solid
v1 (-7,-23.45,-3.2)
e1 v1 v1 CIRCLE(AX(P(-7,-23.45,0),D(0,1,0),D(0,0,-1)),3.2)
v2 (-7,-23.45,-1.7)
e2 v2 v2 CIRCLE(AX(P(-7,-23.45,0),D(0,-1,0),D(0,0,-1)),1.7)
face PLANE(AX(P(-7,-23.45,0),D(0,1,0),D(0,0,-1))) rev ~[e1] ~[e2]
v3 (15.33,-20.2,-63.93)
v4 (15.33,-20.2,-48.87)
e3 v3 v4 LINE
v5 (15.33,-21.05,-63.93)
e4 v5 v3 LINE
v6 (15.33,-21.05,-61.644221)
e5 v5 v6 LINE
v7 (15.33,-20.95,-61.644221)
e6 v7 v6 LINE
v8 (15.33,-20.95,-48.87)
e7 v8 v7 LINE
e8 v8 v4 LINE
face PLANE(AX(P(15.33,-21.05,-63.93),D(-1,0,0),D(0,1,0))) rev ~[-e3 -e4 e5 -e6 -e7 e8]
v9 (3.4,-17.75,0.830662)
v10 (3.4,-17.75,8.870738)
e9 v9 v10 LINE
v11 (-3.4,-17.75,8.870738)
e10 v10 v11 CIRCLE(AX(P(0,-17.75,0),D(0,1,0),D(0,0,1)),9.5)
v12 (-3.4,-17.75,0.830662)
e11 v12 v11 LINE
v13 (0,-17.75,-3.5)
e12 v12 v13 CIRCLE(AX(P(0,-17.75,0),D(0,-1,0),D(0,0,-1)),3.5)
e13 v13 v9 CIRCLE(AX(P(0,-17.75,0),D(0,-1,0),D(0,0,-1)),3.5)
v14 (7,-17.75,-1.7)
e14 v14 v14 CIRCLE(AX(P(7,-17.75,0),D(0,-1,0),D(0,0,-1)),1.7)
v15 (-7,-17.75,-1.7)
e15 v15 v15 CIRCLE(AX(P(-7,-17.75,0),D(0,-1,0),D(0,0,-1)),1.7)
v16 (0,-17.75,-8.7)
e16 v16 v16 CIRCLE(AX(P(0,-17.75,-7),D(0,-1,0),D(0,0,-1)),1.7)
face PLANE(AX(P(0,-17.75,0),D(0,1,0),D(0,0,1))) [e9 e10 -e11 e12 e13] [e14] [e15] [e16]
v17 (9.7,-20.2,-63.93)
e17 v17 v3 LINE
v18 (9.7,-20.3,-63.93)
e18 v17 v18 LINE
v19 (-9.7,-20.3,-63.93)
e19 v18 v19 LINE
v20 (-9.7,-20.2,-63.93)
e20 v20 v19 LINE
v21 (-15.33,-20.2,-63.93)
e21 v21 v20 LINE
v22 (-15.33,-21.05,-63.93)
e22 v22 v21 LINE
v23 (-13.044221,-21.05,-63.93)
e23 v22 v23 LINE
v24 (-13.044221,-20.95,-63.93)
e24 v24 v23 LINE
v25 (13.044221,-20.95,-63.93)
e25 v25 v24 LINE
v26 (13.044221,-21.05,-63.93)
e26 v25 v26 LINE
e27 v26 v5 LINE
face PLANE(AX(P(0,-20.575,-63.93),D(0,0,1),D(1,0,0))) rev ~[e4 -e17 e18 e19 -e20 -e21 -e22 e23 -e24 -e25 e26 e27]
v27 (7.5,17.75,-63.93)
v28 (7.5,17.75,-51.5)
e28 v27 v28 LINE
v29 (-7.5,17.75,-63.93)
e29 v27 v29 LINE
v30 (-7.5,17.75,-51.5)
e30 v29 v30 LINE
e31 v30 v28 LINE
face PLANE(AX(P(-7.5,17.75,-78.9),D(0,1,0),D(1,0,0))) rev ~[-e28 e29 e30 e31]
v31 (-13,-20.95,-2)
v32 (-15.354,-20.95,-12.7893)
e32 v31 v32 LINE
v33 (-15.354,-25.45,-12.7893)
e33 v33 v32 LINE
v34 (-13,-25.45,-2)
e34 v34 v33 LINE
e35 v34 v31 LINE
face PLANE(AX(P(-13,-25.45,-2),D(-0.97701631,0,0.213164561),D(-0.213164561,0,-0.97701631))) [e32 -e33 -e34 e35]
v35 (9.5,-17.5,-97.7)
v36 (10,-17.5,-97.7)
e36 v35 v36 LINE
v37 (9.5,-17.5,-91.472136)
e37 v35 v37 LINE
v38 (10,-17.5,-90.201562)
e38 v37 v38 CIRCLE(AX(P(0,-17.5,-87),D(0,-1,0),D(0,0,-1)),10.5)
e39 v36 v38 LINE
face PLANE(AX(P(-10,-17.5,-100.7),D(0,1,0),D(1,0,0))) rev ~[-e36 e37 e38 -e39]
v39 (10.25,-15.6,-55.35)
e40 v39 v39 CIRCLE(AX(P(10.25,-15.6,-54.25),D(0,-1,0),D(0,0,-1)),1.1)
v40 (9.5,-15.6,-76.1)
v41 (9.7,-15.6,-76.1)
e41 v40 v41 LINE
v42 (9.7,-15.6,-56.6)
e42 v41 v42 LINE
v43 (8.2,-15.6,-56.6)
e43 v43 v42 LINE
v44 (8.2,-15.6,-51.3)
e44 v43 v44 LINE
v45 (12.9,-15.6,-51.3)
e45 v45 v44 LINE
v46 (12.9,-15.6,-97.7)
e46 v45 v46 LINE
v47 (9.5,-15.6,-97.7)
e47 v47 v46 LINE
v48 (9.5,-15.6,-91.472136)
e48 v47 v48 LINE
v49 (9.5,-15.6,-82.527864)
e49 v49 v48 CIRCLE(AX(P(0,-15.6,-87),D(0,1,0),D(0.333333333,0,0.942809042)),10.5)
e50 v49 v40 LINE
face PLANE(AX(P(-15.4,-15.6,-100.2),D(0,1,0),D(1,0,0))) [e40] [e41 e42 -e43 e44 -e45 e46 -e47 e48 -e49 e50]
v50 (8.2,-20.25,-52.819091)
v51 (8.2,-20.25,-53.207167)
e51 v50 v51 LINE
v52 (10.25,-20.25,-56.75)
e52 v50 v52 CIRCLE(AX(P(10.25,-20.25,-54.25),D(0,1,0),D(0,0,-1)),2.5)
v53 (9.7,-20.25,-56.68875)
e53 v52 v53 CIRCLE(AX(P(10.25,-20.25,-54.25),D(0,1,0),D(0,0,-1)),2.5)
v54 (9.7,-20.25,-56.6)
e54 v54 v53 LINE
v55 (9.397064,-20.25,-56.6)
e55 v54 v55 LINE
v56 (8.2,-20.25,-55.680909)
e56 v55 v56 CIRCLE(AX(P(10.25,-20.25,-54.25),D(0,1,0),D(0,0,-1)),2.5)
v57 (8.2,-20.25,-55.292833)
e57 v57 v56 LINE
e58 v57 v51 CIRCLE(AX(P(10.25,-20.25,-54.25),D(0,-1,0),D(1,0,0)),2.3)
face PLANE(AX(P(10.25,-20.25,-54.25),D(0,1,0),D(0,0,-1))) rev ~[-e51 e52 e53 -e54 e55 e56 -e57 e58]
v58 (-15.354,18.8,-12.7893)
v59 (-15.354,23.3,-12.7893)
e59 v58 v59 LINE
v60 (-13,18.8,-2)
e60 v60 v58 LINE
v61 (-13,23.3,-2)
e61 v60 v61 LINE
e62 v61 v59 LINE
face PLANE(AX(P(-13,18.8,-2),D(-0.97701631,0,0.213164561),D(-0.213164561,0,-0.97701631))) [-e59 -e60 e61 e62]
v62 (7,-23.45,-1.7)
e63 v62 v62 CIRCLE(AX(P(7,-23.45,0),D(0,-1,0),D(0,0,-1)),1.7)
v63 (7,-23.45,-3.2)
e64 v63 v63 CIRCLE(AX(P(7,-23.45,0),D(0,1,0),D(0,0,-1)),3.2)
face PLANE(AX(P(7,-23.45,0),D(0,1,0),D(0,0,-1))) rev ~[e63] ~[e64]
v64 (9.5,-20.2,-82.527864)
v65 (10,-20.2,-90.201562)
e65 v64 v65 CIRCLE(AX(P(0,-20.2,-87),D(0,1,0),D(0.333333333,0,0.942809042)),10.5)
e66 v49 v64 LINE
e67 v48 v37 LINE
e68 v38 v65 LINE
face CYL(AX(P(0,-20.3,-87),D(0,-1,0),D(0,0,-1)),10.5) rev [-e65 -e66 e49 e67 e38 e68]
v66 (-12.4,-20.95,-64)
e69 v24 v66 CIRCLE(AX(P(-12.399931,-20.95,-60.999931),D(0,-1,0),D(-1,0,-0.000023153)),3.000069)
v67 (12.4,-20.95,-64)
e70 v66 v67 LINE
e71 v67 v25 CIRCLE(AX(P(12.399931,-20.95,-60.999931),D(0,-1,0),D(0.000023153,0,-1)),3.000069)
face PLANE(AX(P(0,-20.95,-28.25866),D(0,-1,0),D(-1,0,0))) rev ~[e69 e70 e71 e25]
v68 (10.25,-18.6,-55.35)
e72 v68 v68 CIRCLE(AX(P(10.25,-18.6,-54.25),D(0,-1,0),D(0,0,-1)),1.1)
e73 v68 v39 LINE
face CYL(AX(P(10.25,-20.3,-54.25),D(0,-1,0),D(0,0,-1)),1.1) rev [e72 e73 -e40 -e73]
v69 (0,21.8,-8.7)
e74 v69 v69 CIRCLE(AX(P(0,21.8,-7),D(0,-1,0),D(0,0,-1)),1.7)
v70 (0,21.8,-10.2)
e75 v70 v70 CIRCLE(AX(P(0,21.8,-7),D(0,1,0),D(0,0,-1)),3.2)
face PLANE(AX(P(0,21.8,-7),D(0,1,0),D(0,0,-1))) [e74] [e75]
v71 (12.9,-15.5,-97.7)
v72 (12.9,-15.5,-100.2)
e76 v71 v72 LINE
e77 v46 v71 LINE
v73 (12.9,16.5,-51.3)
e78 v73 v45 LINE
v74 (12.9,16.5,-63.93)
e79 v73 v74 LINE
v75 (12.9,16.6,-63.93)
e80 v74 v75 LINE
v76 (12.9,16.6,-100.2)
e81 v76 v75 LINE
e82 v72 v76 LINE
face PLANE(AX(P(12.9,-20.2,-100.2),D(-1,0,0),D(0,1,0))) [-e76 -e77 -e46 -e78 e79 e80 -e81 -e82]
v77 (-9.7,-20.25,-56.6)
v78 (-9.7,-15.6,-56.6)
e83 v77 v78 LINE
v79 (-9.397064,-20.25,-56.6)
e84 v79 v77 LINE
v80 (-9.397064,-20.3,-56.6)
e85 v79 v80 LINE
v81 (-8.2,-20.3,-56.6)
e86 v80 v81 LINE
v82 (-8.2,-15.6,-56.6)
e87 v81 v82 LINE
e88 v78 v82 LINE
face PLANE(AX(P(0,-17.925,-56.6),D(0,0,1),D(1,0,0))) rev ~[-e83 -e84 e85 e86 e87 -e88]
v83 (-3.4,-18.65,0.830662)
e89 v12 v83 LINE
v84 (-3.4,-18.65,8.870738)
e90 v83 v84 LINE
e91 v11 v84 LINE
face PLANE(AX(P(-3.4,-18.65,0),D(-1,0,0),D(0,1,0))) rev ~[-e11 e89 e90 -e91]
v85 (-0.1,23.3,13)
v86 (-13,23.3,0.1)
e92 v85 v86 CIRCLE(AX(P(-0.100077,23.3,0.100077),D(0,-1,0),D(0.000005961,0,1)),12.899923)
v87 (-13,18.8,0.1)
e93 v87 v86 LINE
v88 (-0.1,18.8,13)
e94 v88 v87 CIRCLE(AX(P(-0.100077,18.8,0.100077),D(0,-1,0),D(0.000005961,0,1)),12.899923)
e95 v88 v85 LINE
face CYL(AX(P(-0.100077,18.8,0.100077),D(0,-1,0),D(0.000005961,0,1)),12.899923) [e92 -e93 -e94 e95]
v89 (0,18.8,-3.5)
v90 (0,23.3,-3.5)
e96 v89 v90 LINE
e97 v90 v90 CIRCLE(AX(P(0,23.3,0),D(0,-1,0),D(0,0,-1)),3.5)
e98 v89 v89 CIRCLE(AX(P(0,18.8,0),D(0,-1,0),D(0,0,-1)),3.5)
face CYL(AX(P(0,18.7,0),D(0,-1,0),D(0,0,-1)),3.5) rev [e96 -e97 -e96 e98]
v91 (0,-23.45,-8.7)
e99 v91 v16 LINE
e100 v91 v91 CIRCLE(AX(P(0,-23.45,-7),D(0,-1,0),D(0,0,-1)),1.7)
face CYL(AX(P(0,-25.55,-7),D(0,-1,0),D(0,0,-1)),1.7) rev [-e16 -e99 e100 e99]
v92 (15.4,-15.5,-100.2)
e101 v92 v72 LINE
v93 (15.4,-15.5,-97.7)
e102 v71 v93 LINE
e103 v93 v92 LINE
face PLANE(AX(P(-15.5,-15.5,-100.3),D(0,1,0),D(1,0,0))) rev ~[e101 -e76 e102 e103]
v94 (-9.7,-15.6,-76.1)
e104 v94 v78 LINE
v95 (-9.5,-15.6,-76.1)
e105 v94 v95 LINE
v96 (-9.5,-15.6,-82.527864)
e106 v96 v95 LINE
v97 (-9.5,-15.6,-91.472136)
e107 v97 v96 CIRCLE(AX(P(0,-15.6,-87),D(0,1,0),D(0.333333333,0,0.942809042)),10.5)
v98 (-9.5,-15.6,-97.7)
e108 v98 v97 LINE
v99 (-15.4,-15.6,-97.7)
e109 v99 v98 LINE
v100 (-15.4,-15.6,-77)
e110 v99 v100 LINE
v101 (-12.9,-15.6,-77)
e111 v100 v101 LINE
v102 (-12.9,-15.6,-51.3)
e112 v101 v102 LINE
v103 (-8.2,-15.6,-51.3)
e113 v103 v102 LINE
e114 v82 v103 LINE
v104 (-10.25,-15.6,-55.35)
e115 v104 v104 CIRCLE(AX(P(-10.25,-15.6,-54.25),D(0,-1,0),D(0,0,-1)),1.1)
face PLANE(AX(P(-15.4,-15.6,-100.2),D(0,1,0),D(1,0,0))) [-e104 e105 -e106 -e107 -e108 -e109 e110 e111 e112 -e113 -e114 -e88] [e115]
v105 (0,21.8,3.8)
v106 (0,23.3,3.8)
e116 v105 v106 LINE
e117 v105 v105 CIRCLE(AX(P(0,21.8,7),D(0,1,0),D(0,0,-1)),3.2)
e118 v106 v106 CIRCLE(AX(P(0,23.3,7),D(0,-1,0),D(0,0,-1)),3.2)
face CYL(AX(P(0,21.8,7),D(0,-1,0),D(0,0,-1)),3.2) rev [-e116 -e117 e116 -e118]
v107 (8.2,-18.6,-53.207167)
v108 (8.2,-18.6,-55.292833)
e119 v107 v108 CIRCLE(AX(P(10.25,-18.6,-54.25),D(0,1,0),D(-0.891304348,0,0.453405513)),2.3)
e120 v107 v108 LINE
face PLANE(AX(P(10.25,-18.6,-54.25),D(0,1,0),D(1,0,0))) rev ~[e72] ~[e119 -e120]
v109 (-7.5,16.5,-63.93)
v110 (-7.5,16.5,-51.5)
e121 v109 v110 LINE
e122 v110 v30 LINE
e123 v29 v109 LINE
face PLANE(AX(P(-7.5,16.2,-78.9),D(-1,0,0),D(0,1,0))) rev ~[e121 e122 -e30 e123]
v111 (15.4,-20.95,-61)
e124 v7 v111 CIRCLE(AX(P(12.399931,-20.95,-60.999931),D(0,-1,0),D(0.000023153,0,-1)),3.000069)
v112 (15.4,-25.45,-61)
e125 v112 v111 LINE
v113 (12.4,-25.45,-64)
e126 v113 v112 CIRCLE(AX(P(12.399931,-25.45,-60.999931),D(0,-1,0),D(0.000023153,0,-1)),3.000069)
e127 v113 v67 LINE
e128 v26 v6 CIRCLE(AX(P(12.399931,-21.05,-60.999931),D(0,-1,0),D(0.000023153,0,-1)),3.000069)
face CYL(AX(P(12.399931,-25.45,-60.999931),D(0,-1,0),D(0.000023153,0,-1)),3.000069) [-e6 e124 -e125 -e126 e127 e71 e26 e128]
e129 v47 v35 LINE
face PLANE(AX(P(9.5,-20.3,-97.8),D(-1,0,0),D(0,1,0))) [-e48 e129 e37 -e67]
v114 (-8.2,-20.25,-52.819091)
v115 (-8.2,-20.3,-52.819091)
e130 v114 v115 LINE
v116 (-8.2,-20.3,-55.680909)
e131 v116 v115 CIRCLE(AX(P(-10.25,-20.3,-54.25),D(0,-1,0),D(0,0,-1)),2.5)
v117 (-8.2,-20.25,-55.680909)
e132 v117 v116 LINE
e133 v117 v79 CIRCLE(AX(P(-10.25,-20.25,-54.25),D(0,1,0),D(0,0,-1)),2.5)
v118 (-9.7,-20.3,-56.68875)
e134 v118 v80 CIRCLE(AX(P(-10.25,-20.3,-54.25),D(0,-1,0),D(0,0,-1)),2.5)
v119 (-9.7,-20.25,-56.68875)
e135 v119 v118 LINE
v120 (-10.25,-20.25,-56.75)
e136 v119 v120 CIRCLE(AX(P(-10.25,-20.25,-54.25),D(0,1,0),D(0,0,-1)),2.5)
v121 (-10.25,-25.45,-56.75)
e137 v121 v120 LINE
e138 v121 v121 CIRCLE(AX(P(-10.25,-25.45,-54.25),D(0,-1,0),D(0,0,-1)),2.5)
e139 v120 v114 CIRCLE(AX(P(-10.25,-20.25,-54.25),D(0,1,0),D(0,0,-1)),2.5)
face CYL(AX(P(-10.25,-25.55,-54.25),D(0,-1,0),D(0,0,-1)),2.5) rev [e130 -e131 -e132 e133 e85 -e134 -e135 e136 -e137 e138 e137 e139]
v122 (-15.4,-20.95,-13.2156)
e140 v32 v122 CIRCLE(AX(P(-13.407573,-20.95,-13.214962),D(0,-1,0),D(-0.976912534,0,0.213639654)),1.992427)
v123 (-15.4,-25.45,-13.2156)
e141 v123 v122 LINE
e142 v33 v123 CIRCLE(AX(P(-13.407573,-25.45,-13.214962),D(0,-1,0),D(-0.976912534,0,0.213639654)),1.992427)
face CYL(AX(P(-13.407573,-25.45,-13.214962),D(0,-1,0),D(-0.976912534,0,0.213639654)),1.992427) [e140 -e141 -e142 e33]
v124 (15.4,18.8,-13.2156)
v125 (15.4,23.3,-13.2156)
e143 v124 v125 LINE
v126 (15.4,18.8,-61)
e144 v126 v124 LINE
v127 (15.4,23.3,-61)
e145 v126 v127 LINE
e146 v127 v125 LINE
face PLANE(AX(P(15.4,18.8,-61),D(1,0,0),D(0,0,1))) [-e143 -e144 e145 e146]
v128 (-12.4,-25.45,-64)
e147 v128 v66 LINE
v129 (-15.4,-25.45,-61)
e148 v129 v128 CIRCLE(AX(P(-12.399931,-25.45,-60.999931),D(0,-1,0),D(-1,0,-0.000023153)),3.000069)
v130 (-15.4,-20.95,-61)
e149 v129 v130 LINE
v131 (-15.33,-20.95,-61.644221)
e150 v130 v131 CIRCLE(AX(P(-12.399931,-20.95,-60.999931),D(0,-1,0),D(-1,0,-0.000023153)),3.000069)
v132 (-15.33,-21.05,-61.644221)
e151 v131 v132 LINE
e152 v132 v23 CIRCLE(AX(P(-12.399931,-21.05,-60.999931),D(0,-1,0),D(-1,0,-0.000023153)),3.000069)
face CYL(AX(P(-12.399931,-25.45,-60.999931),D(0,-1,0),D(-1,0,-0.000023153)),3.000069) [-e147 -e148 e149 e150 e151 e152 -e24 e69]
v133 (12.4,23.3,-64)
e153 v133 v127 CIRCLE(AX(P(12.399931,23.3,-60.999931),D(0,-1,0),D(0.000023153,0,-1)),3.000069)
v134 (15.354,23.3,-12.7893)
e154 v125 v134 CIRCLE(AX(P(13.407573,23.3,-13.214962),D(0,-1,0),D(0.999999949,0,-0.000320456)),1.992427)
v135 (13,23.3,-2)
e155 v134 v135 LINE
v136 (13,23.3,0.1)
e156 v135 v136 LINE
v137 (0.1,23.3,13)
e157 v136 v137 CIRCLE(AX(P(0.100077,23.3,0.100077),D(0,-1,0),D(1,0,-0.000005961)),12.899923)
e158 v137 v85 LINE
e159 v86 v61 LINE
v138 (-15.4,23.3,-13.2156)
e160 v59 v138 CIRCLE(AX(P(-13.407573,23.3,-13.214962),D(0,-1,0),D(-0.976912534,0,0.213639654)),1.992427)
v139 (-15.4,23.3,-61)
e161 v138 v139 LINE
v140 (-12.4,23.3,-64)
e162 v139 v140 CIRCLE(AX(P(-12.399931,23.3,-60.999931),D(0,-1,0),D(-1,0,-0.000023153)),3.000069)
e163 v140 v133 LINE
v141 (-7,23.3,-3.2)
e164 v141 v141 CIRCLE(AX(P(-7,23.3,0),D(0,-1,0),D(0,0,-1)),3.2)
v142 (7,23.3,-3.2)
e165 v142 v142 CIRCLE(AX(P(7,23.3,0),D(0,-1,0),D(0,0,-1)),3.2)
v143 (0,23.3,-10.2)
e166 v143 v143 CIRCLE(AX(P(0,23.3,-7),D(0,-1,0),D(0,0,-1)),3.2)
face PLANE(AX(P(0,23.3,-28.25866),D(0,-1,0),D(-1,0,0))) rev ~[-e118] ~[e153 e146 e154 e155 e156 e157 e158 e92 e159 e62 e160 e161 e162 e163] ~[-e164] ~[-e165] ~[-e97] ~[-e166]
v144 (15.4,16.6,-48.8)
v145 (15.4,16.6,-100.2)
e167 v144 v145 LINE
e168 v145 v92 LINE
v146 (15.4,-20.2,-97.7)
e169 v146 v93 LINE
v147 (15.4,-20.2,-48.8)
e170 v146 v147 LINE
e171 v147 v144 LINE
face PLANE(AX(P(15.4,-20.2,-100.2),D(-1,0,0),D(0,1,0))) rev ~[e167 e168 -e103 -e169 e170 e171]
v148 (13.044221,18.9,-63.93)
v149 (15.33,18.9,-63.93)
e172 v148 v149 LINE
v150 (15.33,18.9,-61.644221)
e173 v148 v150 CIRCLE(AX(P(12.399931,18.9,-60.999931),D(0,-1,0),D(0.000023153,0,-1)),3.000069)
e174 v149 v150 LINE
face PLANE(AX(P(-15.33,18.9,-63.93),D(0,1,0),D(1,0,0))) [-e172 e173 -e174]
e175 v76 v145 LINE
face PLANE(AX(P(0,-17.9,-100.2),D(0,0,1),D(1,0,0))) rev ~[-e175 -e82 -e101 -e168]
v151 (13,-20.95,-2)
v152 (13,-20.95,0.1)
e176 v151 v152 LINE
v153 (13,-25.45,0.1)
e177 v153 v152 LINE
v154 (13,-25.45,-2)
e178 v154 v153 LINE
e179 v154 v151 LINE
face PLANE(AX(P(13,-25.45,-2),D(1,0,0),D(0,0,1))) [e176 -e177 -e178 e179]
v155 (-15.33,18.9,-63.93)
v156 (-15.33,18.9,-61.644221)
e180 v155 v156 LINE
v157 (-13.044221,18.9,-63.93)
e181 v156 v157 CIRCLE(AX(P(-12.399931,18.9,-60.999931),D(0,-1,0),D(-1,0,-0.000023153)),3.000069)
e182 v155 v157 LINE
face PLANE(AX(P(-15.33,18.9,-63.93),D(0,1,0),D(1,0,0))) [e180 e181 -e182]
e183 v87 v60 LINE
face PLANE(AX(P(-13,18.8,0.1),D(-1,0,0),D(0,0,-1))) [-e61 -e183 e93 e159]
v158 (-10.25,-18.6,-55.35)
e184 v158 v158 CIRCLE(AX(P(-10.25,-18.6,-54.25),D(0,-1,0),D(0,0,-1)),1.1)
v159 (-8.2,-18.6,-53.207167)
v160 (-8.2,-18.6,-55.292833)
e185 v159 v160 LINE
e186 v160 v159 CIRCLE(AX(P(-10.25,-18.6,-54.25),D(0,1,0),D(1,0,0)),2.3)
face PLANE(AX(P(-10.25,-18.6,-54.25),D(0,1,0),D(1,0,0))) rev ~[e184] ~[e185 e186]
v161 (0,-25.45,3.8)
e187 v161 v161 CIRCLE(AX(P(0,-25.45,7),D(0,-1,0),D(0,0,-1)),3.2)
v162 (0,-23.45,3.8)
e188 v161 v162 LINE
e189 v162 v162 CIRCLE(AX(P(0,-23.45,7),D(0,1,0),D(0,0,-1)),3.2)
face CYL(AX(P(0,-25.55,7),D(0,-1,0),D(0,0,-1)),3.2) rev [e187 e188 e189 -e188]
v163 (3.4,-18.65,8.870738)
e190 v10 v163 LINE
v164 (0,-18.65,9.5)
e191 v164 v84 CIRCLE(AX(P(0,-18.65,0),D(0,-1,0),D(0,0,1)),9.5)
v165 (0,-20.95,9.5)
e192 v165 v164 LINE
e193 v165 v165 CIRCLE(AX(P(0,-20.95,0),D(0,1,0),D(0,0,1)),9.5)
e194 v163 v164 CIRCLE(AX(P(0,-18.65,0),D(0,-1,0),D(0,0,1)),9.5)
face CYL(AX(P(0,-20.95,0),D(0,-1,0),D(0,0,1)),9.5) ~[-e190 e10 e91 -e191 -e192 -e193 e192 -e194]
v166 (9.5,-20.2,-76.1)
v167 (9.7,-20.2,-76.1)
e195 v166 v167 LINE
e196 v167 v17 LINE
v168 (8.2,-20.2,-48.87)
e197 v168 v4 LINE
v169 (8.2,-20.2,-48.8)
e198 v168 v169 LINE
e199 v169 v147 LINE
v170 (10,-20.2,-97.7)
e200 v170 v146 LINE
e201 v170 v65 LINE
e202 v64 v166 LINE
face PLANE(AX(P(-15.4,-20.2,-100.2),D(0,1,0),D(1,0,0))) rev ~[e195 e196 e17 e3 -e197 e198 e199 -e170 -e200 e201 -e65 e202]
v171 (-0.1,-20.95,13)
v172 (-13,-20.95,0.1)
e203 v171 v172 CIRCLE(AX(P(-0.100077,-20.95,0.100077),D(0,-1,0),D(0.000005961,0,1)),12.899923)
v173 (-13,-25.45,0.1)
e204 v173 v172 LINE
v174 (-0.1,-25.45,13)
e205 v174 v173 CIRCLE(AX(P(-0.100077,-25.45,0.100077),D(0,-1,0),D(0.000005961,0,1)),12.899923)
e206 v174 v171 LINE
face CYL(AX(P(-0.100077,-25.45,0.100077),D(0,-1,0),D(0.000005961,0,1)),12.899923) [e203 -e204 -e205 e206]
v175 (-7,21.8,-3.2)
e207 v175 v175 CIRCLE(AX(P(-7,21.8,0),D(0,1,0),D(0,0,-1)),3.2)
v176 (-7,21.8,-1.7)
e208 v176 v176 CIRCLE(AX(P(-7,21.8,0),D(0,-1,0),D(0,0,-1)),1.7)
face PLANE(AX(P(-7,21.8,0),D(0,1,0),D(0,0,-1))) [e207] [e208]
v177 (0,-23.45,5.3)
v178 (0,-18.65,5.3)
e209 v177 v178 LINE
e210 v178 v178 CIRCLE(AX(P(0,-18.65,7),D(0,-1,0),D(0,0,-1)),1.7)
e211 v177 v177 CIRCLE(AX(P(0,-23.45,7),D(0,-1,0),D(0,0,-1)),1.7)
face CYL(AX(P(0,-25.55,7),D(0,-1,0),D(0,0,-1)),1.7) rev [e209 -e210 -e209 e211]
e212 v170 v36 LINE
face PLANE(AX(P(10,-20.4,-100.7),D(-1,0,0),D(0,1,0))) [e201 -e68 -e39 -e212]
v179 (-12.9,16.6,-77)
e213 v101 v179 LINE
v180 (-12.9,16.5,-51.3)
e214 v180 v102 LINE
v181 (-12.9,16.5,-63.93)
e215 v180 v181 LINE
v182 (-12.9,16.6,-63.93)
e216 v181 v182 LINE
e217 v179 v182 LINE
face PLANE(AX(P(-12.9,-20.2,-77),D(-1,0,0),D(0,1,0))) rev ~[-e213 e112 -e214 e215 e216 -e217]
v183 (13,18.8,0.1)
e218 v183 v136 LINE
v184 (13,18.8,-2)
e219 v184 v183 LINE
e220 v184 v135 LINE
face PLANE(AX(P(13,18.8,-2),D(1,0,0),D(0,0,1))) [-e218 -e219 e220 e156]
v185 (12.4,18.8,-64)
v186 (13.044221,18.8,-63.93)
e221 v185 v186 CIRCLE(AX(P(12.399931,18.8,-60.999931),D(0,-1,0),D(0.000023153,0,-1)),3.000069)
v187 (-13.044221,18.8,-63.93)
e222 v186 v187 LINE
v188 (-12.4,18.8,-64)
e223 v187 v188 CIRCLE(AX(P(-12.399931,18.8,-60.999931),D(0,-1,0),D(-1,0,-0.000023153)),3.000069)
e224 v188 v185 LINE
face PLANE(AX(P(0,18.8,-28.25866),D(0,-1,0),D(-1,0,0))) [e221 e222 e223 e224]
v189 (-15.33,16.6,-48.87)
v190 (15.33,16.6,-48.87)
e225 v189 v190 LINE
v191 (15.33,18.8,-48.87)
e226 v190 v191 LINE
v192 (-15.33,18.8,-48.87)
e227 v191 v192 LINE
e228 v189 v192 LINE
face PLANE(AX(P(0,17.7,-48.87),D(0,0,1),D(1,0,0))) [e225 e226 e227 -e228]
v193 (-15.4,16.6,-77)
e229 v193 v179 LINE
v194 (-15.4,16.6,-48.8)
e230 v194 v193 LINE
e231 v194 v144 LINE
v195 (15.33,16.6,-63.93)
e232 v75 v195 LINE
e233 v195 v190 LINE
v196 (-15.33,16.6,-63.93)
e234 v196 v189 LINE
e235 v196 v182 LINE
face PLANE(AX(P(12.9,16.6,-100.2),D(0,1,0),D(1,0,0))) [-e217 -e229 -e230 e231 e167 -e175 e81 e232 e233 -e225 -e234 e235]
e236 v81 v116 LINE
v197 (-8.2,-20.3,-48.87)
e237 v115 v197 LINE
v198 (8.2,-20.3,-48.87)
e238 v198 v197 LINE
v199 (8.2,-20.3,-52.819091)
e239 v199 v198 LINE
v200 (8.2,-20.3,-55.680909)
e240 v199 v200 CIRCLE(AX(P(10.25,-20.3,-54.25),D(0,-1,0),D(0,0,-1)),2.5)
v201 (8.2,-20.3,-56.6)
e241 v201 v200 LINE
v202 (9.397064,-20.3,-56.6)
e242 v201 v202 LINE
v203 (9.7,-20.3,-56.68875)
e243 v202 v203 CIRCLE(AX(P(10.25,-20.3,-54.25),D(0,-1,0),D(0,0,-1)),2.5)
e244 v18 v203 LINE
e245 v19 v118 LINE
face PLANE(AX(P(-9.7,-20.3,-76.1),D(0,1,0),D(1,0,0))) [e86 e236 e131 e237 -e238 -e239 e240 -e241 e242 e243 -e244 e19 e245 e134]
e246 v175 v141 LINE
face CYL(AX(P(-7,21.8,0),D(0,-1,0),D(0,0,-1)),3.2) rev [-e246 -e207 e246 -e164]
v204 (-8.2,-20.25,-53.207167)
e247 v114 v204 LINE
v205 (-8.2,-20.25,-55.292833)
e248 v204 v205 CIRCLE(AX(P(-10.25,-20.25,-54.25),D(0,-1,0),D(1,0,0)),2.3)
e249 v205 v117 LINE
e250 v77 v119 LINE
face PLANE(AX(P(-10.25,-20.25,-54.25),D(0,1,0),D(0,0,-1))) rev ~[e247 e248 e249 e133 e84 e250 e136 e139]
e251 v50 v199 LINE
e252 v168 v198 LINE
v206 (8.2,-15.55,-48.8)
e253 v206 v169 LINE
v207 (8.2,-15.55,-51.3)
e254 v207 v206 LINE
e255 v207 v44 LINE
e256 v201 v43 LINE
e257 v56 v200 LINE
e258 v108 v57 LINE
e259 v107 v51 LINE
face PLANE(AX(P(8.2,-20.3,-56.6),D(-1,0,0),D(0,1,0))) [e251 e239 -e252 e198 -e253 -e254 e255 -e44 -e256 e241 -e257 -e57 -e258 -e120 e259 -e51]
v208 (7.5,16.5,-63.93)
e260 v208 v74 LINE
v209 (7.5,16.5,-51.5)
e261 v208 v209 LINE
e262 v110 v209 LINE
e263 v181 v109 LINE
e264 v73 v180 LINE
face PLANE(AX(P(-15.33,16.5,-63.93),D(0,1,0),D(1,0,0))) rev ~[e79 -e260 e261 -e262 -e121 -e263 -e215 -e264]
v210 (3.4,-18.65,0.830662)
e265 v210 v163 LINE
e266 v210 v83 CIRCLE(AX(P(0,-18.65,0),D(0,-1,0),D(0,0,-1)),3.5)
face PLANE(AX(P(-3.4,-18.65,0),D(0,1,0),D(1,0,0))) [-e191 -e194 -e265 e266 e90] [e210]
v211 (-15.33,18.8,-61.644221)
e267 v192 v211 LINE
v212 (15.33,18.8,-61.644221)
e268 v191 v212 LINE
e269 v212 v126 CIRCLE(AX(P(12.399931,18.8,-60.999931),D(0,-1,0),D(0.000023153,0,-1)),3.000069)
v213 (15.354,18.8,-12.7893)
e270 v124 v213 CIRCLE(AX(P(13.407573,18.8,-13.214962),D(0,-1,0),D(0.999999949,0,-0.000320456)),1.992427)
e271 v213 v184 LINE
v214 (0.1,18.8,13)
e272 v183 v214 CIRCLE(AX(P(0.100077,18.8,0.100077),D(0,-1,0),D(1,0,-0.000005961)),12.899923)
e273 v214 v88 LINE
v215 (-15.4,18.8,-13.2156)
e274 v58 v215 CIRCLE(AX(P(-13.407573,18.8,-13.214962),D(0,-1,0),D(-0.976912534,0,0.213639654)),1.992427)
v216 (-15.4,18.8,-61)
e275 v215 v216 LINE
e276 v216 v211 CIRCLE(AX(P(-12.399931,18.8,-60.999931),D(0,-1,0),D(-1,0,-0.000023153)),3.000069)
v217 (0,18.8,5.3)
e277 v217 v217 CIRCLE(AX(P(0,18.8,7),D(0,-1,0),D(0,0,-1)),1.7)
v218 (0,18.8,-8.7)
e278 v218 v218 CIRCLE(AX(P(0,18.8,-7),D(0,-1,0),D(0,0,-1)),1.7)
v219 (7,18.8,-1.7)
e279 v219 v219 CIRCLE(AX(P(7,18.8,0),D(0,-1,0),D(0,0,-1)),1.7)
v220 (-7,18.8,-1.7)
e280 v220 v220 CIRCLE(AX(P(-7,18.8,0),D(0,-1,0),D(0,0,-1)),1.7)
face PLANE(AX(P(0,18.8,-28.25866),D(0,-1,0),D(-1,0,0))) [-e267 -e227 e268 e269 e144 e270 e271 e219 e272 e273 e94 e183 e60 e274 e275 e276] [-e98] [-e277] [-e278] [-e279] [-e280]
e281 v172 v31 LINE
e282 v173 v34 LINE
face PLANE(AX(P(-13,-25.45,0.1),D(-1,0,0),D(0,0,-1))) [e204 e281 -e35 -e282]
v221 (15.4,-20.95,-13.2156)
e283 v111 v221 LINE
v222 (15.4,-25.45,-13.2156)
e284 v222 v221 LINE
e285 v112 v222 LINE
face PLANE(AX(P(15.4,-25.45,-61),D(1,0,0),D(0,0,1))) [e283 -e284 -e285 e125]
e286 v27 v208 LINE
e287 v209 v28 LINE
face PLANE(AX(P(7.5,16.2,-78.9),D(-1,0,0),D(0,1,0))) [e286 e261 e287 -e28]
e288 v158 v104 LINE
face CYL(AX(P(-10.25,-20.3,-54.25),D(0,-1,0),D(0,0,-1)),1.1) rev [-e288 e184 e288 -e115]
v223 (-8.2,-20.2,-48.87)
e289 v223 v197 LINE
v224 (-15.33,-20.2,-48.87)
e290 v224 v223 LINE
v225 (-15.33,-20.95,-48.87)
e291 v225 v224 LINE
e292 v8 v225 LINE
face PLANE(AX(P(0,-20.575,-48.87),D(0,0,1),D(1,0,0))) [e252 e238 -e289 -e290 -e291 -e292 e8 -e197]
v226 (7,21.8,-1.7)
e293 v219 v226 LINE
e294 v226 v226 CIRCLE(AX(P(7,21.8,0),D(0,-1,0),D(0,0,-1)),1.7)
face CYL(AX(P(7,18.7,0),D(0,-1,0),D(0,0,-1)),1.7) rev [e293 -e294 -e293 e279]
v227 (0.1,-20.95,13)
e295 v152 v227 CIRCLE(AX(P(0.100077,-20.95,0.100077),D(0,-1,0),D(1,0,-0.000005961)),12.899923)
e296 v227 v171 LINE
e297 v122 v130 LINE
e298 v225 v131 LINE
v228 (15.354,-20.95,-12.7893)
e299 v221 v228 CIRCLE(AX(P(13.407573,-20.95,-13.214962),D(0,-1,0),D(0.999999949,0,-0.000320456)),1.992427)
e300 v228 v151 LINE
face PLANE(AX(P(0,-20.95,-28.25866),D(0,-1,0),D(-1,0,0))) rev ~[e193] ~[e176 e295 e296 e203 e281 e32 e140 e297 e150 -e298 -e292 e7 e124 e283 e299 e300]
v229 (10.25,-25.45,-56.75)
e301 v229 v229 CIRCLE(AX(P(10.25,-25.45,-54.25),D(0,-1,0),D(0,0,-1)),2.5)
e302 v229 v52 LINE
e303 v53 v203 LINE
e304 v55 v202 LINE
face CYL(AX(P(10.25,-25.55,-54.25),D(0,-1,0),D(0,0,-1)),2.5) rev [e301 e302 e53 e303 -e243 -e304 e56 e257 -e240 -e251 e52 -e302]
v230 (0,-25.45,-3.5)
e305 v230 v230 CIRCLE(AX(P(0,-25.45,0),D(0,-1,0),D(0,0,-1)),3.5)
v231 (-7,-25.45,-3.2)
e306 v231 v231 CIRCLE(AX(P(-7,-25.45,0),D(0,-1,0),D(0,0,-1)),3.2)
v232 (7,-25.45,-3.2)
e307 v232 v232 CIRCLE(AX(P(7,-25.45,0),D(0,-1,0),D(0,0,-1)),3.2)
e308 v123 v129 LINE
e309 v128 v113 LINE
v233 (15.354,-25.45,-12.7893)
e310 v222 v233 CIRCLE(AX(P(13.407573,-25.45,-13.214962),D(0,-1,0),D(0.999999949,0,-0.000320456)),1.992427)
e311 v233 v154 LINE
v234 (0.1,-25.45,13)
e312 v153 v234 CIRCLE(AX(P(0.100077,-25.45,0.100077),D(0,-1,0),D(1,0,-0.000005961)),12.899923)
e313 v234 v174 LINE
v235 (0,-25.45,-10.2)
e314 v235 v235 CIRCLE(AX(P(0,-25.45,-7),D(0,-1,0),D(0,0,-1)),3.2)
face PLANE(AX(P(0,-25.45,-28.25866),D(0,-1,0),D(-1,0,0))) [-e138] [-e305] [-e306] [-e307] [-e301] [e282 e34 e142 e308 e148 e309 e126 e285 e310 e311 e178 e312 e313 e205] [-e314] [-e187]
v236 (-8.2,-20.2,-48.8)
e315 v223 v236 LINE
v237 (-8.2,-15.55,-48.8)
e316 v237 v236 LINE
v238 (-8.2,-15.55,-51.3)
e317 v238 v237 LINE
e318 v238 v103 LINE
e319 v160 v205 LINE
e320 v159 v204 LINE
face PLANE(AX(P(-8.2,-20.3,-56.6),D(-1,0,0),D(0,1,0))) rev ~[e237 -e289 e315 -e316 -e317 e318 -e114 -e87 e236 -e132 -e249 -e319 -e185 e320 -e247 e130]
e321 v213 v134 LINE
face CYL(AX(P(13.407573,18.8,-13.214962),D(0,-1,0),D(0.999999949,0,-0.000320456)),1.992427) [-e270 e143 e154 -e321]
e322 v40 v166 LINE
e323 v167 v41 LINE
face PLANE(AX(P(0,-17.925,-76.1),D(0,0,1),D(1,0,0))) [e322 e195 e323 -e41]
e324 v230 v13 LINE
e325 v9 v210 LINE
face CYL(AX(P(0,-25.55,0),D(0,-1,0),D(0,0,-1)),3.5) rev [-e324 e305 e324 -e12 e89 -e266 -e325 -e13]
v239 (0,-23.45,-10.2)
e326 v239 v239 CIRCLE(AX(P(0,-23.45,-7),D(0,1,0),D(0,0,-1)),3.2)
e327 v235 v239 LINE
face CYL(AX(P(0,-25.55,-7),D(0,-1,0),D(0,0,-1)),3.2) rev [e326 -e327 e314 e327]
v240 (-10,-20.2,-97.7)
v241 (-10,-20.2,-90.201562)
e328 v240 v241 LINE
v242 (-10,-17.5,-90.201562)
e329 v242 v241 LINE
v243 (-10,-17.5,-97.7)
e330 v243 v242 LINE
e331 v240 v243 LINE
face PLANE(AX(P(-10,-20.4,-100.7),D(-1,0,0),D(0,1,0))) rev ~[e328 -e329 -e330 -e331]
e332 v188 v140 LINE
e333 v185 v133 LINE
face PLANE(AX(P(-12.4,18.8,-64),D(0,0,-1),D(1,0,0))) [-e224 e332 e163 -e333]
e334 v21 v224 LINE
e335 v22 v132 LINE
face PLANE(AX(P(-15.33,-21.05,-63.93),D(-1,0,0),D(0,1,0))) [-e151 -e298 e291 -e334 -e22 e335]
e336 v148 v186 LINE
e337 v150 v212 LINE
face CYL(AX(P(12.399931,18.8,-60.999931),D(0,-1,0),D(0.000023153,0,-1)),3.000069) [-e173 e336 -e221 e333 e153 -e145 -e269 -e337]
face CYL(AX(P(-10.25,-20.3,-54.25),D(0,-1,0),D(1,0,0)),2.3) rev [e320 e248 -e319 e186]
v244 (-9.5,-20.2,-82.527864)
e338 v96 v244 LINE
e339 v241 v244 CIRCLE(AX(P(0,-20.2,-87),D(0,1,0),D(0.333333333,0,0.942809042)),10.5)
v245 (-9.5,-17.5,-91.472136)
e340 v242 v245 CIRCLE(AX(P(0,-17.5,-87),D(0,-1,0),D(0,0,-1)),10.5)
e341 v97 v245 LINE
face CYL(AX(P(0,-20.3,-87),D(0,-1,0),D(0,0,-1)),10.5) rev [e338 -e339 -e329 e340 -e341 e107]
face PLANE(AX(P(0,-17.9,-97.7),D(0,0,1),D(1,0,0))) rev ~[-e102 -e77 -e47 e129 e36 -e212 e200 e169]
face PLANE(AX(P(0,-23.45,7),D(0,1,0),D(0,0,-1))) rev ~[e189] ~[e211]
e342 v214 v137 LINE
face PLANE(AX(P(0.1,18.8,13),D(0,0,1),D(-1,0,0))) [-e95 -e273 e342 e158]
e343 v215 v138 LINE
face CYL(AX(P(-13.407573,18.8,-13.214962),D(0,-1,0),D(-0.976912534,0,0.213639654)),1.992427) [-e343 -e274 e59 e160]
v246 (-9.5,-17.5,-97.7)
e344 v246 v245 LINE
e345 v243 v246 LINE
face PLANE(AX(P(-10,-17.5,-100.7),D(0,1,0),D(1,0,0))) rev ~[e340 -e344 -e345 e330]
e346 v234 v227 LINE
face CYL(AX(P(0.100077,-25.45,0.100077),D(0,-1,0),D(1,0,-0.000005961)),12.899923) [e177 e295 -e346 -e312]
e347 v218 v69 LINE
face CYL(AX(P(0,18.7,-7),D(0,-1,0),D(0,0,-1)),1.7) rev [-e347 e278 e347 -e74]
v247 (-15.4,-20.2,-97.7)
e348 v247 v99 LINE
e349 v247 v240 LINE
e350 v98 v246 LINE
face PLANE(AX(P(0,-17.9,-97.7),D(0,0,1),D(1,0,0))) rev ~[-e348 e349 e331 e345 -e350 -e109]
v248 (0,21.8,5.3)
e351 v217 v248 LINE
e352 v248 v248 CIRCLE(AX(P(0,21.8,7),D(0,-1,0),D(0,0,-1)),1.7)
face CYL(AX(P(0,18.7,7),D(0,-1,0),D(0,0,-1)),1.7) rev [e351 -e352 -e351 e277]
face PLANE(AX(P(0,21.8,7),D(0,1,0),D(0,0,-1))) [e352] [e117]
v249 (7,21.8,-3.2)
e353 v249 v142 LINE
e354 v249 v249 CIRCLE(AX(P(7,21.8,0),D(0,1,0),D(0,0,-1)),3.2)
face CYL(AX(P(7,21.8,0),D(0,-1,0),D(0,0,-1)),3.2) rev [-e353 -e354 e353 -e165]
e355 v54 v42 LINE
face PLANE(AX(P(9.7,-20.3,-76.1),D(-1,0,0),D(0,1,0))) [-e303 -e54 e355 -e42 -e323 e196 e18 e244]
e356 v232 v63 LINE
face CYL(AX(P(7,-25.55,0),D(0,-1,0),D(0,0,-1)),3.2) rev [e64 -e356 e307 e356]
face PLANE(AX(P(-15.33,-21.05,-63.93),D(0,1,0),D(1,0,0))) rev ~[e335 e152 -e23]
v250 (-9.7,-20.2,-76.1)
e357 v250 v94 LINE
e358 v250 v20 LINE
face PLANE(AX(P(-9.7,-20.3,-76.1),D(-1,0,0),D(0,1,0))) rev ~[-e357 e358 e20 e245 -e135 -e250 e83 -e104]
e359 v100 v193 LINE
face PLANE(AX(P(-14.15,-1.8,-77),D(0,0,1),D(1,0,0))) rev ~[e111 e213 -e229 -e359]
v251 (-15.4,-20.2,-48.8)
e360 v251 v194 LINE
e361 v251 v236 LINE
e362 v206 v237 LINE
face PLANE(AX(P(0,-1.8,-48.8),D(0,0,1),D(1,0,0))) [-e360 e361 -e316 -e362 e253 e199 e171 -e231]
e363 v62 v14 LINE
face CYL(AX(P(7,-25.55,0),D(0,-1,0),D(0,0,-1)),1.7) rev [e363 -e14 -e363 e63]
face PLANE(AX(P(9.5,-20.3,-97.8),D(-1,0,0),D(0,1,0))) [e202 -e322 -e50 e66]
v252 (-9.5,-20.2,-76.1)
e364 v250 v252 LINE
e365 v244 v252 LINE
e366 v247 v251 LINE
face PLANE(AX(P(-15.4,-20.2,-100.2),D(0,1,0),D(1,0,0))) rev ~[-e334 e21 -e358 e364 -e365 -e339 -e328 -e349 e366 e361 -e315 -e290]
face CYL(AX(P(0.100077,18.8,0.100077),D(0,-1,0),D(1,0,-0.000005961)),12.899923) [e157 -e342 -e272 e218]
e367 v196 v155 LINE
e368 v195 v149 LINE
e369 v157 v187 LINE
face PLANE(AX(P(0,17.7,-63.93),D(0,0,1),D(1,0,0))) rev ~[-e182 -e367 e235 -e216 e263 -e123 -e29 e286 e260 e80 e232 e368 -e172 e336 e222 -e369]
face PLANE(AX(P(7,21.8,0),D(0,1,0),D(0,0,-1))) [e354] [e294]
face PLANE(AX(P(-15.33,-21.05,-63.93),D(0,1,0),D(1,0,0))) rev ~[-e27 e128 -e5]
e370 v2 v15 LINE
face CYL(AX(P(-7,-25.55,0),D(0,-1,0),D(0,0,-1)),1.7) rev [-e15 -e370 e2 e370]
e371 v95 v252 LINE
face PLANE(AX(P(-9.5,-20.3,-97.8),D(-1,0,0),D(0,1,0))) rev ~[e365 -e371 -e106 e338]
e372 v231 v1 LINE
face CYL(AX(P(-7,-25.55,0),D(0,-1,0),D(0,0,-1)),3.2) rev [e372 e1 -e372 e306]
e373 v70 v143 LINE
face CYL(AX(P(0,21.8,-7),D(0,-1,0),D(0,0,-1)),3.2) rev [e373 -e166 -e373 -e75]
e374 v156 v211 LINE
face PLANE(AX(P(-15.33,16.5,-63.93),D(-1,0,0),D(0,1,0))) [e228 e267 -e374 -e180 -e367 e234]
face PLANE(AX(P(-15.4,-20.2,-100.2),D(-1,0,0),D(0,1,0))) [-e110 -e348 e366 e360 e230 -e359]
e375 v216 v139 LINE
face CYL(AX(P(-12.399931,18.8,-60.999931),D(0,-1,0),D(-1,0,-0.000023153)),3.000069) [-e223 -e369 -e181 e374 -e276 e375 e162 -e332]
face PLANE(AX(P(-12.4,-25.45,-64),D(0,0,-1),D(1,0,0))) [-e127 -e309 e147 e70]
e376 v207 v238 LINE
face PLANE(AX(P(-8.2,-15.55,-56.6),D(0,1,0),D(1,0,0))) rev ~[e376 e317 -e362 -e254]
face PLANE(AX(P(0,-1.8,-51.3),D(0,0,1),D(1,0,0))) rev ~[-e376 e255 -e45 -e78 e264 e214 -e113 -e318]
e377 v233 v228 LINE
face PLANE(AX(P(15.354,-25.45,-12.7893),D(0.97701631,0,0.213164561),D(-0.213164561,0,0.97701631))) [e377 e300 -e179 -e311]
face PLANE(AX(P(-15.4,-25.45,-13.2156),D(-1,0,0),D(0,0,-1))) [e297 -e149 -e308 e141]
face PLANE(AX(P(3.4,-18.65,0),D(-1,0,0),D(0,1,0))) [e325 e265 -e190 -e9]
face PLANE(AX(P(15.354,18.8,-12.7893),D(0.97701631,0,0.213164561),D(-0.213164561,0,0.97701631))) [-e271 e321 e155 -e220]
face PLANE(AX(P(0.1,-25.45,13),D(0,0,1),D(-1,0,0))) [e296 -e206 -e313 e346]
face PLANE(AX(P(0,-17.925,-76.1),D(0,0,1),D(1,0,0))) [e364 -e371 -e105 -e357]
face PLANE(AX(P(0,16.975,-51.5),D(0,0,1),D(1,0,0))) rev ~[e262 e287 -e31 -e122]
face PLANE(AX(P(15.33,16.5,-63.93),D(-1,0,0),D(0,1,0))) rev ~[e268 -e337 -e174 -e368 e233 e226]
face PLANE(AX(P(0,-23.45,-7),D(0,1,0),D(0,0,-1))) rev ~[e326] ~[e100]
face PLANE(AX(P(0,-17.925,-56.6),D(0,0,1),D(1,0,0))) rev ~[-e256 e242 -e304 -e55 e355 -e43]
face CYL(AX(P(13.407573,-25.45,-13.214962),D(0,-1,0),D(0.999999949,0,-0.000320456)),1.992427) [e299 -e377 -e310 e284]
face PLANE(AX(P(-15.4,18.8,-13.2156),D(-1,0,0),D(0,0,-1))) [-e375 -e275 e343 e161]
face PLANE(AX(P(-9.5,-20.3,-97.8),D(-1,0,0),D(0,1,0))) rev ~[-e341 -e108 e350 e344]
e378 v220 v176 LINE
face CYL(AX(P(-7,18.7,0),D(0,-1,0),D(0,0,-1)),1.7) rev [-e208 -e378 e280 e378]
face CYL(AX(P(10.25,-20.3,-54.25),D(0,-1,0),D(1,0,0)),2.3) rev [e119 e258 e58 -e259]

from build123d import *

# Parameters (mm, degrees)
BOSS_1_DEPTH    = 4.5
S_CYL2_R        = 9.5
BOSS_2_DEPTH    = 3.2
BOSS_3_DEPTH    = 4.5
S_BOX4_W        = 30.8
S_BOX4_H        = 36.8
BOSS_4_DEPTH    = 2.5
S_BOX5_W        = 2.5
S_BOX5_H        = 36.8
BOSS_5_DEPTH    = 51.4
S_BOX6_W        = 30.8
S_BOX6_H        = 4.6
BOSS_6_DEPTH    = 51.4
S_BOX7_W        = 2.5
S_BOX7_H        = 36.8
BOSS_7_DEPTH    = 28.2
S_BOX8_W        = 30.66
S_BOX8_H        = 2.4
BOSS_8_DEPTH    = 15.06
S_BOX9_W        = 30.66
S_BOX9_H        = 0.95
BOSS_9_DEPTH    = 15.06
S_HOLE10_R      = 3.5
HOLE_10_DEPTH   = 4.7
S_HOLE11_R      = 1.7
HOLE_11_DEPTH   = 4.7
S_HOLE12_R      = 1.7
HOLE_12_DEPTH   = 4.7
S_HOLE13_R      = 1.7
HOLE_13_DEPTH   = 4.7
S_HOLE14_R      = 1.7
HOLE_14_DEPTH   = 4.7
S_HOLE15_R      = 3.2
HOLE_15_DEPTH   = 1.6
S_HOLE16_R      = 3.2
HOLE_16_DEPTH   = 1.6
S_HOLE17_R      = 3.2
HOLE_17_DEPTH   = 1.6
S_HOLE18_R      = 3.2
HOLE_18_DEPTH   = 1.6
S_HOLE19_R      = 3.5
HOLE_19_DEPTH   = 7.9
S_HOLE20_R      = 1.7
HOLE_20_DEPTH   = 7.9
S_HOLE21_R      = 1.7
HOLE_21_DEPTH   = 7.9
S_HOLE22_R      = 1.7
HOLE_22_DEPTH   = 7.9
S_HOLE23_R      = 1.7
HOLE_23_DEPTH   = 7.9
S_HOLE24_R      = 3.2
HOLE_24_DEPTH   = 2.1
S_HOLE25_R      = 3.2
HOLE_25_DEPTH   = 2.1
S_HOLE26_R      = 3.2
HOLE_26_DEPTH   = 2.1
S_HOLE27_R      = 3.2
HOLE_27_DEPTH   = 2.1
S_CUT28_W       = 6.8
S_CUT28_H       = 1
POCKET_28_DEPTH = 10
S_HOLE29_R      = 10.5
HOLE_29_DEPTH   = 4.8
S_CUT30_W       = 19.4
S_CUT30_H       = 4.75
POCKET_30_DEPTH = 19.5
S_CUT31_W       = 16.4
S_CUT31_H       = 4.75
POCKET_31_DEPTH = 8.3
S_CUT32_W       = 7
S_CUT32_H       = 4.75
POCKET_32_DEPTH = 11
S_CUT33_W       = 20
S_CUT33_H       = 2.9
POCKET_33_DEPTH = 13.7
S_HOLE34_R      = 1.1
HOLE_34_DEPTH   = 4.8
S_HOLE35_R      = 2.3
HOLE_35_DEPTH   = 1.7
S_HOLE36_R      = 1.1
HOLE_36_DEPTH   = 4.8
S_HOLE37_R      = 2.3
HOLE_37_DEPTH   = 1.7
S_CUT38_W       = 31
S_CUT38_H       = 4.8
POCKET_38_DEPTH = 2.6
S_CUT39_W       = 19
S_CUT39_H       = 4.75
POCKET_39_DEPTH = 22.2
S_CUT40_W       = 15
S_CUT40_H       = 1.55
POCKET_40_DEPTH = 27.4
S_HOLE41_R      = 2.5
HOLE_41_DEPTH   = 5.3
S_HOLE42_R      = 2.5
HOLE_42_DEPTH   = 5.3


with BuildPart() as part:
    # S_prism1 → Boss_1 (new body)
    with BuildSketch(Plane(origin=(0, 18.8, 0), x_dir=(1, 0, 0), z_dir=(0, 1, 0))):
        with BuildLine():
            Line((-13, 2), (-15.354, 12.7893))
            ThreePointArc((-15.354, 12.7893), (-15.38850097, 13.001208985), (-15.4, 13.2156))
            Line((-15.4, 13.2156), (-15.4, 61))
            ThreePointArc((-15.4, 61), (-14.5213, 63.1213), (-12.4, 64))
            Line((-12.4, 64), (12.4, 64))
            ThreePointArc((12.4, 64), (14.5213, 63.1213), (15.4, 61))
            Line((15.4, 61), (15.4, 13.2156))
            ThreePointArc((15.4, 13.2156), (15.38850097, 13.001208985), (15.354, 12.7893))
            Line((15.354, 12.7893), (13, 2))
            Line((13, 2), (13, -0.1))
            ThreePointArc((13, -0.1), (9.2217, -9.2217), (0.1, -13))
            Line((0.1, -13), (-0.1, -13))
            ThreePointArc((-0.1, -13), (-9.2217, -9.2217), (-13, -0.1))
            Line((-13, -0.1), (-13, 2))
        make_face()
    extrude(amount=BOSS_1_DEPTH)



with BuildPart() as body_2:
    # S_cyl2 → Boss_2 (new body)
    with BuildSketch(Plane(origin=(0, -20.95, 0), x_dir=(1, 0, 0), z_dir=(0, 1, 0))):
        with Locations(Location((0, 0, 0), (0, 0, 270))):
            Circle(S_CYL2_R)
    extrude(amount=BOSS_2_DEPTH)

    # S_prism3 → Boss_3 (add)
    with BuildSketch(Plane(origin=(0, -25.45, 0), x_dir=(1, 0, 0), z_dir=(0, 1, 0))):
        with BuildLine():
            Line((-13, 2), (-15.354, 12.7893))
            ThreePointArc((-15.354, 12.7893), (-15.38850097, 13.001208985), (-15.4, 13.2156))
            Line((-15.4, 13.2156), (-15.4, 61))
            ThreePointArc((-15.4, 61), (-14.5213, 63.1213), (-12.4, 64))
            Line((-12.4, 64), (12.4, 64))
            ThreePointArc((12.4, 64), (14.5213, 63.1213), (15.4, 61))
            Line((15.4, 61), (15.4, 13.2156))
            ThreePointArc((15.4, 13.2156), (15.38850097, 13.001208985), (15.354, 12.7893))
            Line((15.354, 12.7893), (13, 2))
            Line((13, 2), (13, -0.1))
            ThreePointArc((13, -0.1), (9.2217, -9.2217), (0.1, -13))
            Line((0.1, -13), (-0.1, -13))
            ThreePointArc((-0.1, -13), (-9.2217, -9.2217), (-13, -0.1))
            Line((-13, -0.1), (-13, 2))
        make_face()
    extrude(amount=BOSS_3_DEPTH)


with BuildPart() as body_3:
    # S_box4 → Boss_4 (new body)
    with BuildSketch(Plane.XY.offset(-51.3)):
        with Locations((0, -1.8)):
            Rectangle(S_BOX4_W, S_BOX4_H)
    extrude(amount=BOSS_4_DEPTH)

    # S_box5 → Boss_5 (add)
    with BuildSketch(Plane.XY.offset(-100.2)):
        with Locations((14.15, -1.8)):
            Rectangle(S_BOX5_W, S_BOX5_H)
    extrude(amount=BOSS_5_DEPTH)

    # S_box6 → Boss_6 (add)
    with BuildSketch(Plane.XY.offset(-100.2)):
        with Locations((0, -17.9)):
            Rectangle(S_BOX6_W, S_BOX6_H)
    extrude(amount=BOSS_6_DEPTH)

    # S_box7 → Boss_7 (add)
    with BuildSketch(Plane.XY.offset(-77)):
        with Locations((-14.15, -1.8)):
            Rectangle(S_BOX7_W, S_BOX7_H)
    extrude(amount=BOSS_7_DEPTH)


with BuildPart() as part_1:
    add(part.part)

    add(body_3.part)  # Boss_8 merges body 3
    # S_box8 → Boss_8 (add)
    with BuildSketch(Plane.XY.offset(-63.93)):
        with Locations((0, 17.7)):
            Rectangle(S_BOX8_W, S_BOX8_H)
    extrude(amount=BOSS_8_DEPTH)


    add(body_2.part)  # Boss_9 merges body 2
    # S_box9 → Boss_9 (add)
    with BuildSketch(Plane.XY.offset(-63.93)):
        with Locations((0, -20.575)):
            Rectangle(S_BOX9_W, S_BOX9_H)
    extrude(amount=BOSS_9_DEPTH)

    # S_hole10 → Hole_10 (cut)
    with BuildSketch(Plane(origin=(0, 18.7, 0), x_dir=(1, 0, 0), z_dir=(0, 1, 0))):
        with Locations(Location((0, 0, 0), (0, 0, 90))):
            Circle(S_HOLE10_R)
    extrude(amount=HOLE_10_DEPTH, mode=Mode.SUBTRACT)

    # S_hole11 → Hole_11 (cut)
    with BuildSketch(Plane(origin=(0, 18.7, 0), x_dir=(1, 0, 0), z_dir=(0, 1, 0))):
        with Locations(Location((7, 0, 0), (0, 0, 90))):
            Circle(S_HOLE11_R)
    extrude(amount=HOLE_11_DEPTH, mode=Mode.SUBTRACT)

    # S_hole12 → Hole_12 (cut)
    with BuildSketch(Plane(origin=(0, 18.7, 0), x_dir=(1, 0, 0), z_dir=(0, 1, 0))):
        with Locations(Location((0, -7, 0), (0, 0, 90))):
            Circle(S_HOLE12_R)
    extrude(amount=HOLE_12_DEPTH, mode=Mode.SUBTRACT)

    # S_hole13 → Hole_13 (cut)
    with BuildSketch(Plane(origin=(0, 18.7, 0), x_dir=(1, 0, 0), z_dir=(0, 1, 0))):
        with Locations(Location((-7, 0, 0), (0, 0, 90))):
            Circle(S_HOLE13_R)
    extrude(amount=HOLE_13_DEPTH, mode=Mode.SUBTRACT)

    # S_hole14 → Hole_14 (cut)
    with BuildSketch(Plane(origin=(0, 18.7, 0), x_dir=(1, 0, 0), z_dir=(0, 1, 0))):
        with Locations(Location((0, 7, 0), (0, 0, 90))):
            Circle(S_HOLE14_R)
    extrude(amount=HOLE_14_DEPTH, mode=Mode.SUBTRACT)

    # S_hole15 → Hole_15 (cut)
    with BuildSketch(Plane(origin=(0, 21.8, 0), x_dir=(1, 0, 0), z_dir=(0, 1, 0))):
        with Locations(Location((7, 0, 0), (0, 0, 90))):
            Circle(S_HOLE15_R)
    extrude(amount=HOLE_15_DEPTH, mode=Mode.SUBTRACT)

    # S_hole16 → Hole_16 (cut)
    with BuildSketch(Plane(origin=(0, 21.8, 0), x_dir=(1, 0, 0), z_dir=(0, 1, 0))):
        with Locations(Location((0, -7, 0), (0, 0, 90))):
            Circle(S_HOLE16_R)
    extrude(amount=HOLE_16_DEPTH, mode=Mode.SUBTRACT)

    # S_hole17 → Hole_17 (cut)
    with BuildSketch(Plane(origin=(0, 21.8, 0), x_dir=(1, 0, 0), z_dir=(0, 1, 0))):
        with Locations(Location((-7, 0, 0), (0, 0, 90))):
            Circle(S_HOLE17_R)
    extrude(amount=HOLE_17_DEPTH, mode=Mode.SUBTRACT)

    # S_hole18 → Hole_18 (cut)
    with BuildSketch(Plane(origin=(0, 21.8, 0), x_dir=(1, 0, 0), z_dir=(0, 1, 0))):
        with Locations(Location((0, 7, 0), (0, 0, 90))):
            Circle(S_HOLE18_R)
    extrude(amount=HOLE_18_DEPTH, mode=Mode.SUBTRACT)

    # S_hole19 → Hole_19 (cut)
    with BuildSketch(Plane(origin=(0, -25.55, 0), x_dir=(1, 0, 0), z_dir=(0, 1, 0))):
        with Locations(Location((0, 0, 0), (0, 0, 90))):
            Circle(S_HOLE19_R)
    extrude(amount=HOLE_19_DEPTH, mode=Mode.SUBTRACT)

    # S_hole20 → Hole_20 (cut)
    with BuildSketch(Plane(origin=(0, -25.55, 0), x_dir=(1, 0, 0), z_dir=(0, 1, 0))):
        with Locations(Location((7, 0, 0), (0, 0, 90))):
            Circle(S_HOLE20_R)
    extrude(amount=HOLE_20_DEPTH, mode=Mode.SUBTRACT)

    # S_hole21 → Hole_21 (cut)
    with BuildSketch(Plane(origin=(0, -25.55, 0), x_dir=(1, 0, 0), z_dir=(0, 1, 0))):
        with Locations(Location((0, -7, 0), (0, 0, 90))):
            Circle(S_HOLE21_R)
    extrude(amount=HOLE_21_DEPTH, mode=Mode.SUBTRACT)

    # S_hole22 → Hole_22 (cut)
    with BuildSketch(Plane(origin=(0, -25.55, 0), x_dir=(1, 0, 0), z_dir=(0, 1, 0))):
        with Locations(Location((-7, 0, 0), (0, 0, 90))):
            Circle(S_HOLE22_R)
    extrude(amount=HOLE_22_DEPTH, mode=Mode.SUBTRACT)

    # S_hole23 → Hole_23 (cut)
    with BuildSketch(Plane(origin=(0, -25.55, 0), x_dir=(1, 0, 0), z_dir=(0, 1, 0))):
        with Locations(Location((0, 7, 0), (0, 0, 90))):
            Circle(S_HOLE23_R)
    extrude(amount=HOLE_23_DEPTH, mode=Mode.SUBTRACT)

    # S_hole24 → Hole_24 (cut)
    with BuildSketch(Plane(origin=(0, -25.55, 0), x_dir=(1, 0, 0), z_dir=(0, 1, 0))):
        with Locations(Location((7, 0, 0), (0, 0, 90))):
            Circle(S_HOLE24_R)
    extrude(amount=HOLE_24_DEPTH, mode=Mode.SUBTRACT)

    # S_hole25 → Hole_25 (cut)
    with BuildSketch(Plane(origin=(0, -25.55, 0), x_dir=(1, 0, 0), z_dir=(0, 1, 0))):
        with Locations(Location((0, -7, 0), (0, 0, 90))):
            Circle(S_HOLE25_R)
    extrude(amount=HOLE_25_DEPTH, mode=Mode.SUBTRACT)

    # S_hole26 → Hole_26 (cut)
    with BuildSketch(Plane(origin=(0, -25.55, 0), x_dir=(1, 0, 0), z_dir=(0, 1, 0))):
        with Locations(Location((-7, 0, 0), (0, 0, 90))):
            Circle(S_HOLE26_R)
    extrude(amount=HOLE_26_DEPTH, mode=Mode.SUBTRACT)

    # S_hole27 → Hole_27 (cut)
    with BuildSketch(Plane(origin=(0, -25.55, 0), x_dir=(1, 0, 0), z_dir=(0, 1, 0))):
        with Locations(Location((0, 7, 0), (0, 0, 90))):
            Circle(S_HOLE27_R)
    extrude(amount=HOLE_27_DEPTH, mode=Mode.SUBTRACT)

    # S_cut28 → Pocket_28 (cut)
    with BuildSketch(Plane.XY):
        with Locations((0, -18.15)):
            Rectangle(S_CUT28_W, S_CUT28_H)
    extrude(amount=POCKET_28_DEPTH, mode=Mode.SUBTRACT)

    # S_hole29 → Hole_29 (cut)
    with BuildSketch(Plane(origin=(0, -20.3, 0), x_dir=(1, 0, 0), z_dir=(0, 1, 0))):
        with Locations(Location((0, 87, 0), (0, 0, 90))):
            Circle(S_HOLE29_R)
    extrude(amount=HOLE_29_DEPTH, mode=Mode.SUBTRACT)

    # S_cut30 → Pocket_30 (cut)
    with BuildSketch(Plane.XY.offset(-76.1)):
        with Locations((0, -17.925)):
            Rectangle(S_CUT30_W, S_CUT30_H)
    extrude(amount=POCKET_30_DEPTH, mode=Mode.SUBTRACT)

    # S_cut31 → Pocket_31 (cut)
    with BuildSketch(Plane.XY.offset(-56.6)):
        with Locations((0, -17.925)):
            Rectangle(S_CUT31_W, S_CUT31_H)
    extrude(amount=POCKET_31_DEPTH, mode=Mode.SUBTRACT)

    # S_cut32 → Pocket_32 (cut)
    with BuildSketch(Plane.XY.offset(-87)):
        with Locations((0, -17.925)):
            Rectangle(S_CUT32_W, S_CUT32_H)
    extrude(amount=POCKET_32_DEPTH, mode=Mode.SUBTRACT)

    # S_cut33 → Pocket_33 (cut)
    with BuildSketch(Plane.XY.offset(-100.7)):
        with Locations((0, -18.95)):
            Rectangle(S_CUT33_W, S_CUT33_H)
    extrude(amount=POCKET_33_DEPTH, mode=Mode.SUBTRACT)

    # S_hole34 → Hole_34 (cut)
    with BuildSketch(Plane(origin=(0, -20.3, 0), x_dir=(1, 0, 0), z_dir=(0, 1, 0))):
        with Locations(Location((-10.25, 54.25, 0), (0, 0, 90))):
            Circle(S_HOLE34_R)
    extrude(amount=HOLE_34_DEPTH, mode=Mode.SUBTRACT)

    # S_hole35 → Hole_35 (cut)
    with BuildSketch(Plane(origin=(0, -20.3, 0), x_dir=(1, 0, 0), z_dir=(0, 1, 0))):
        with Locations((-10.25, 54.25)):
            Circle(S_HOLE35_R)
    extrude(amount=HOLE_35_DEPTH, mode=Mode.SUBTRACT)

    # S_hole36 → Hole_36 (cut)
    with BuildSketch(Plane(origin=(0, -20.3, 0), x_dir=(1, 0, 0), z_dir=(0, 1, 0))):
        with Locations(Location((10.25, 54.25, 0), (0, 0, 90))):
            Circle(S_HOLE36_R)
    extrude(amount=HOLE_36_DEPTH, mode=Mode.SUBTRACT)

    # S_hole37 → Hole_37 (cut)
    with BuildSketch(Plane(origin=(0, -20.3, 0), x_dir=(1, 0, 0), z_dir=(0, 1, 0))):
        with Locations((10.25, 54.25)):
            Circle(S_HOLE37_R)
    extrude(amount=HOLE_37_DEPTH, mode=Mode.SUBTRACT)

    # S_cut38 → Pocket_38 (cut)
    with BuildSketch(Plane.XY.offset(-100.3)):
        with Locations((0, -17.9)):
            Rectangle(S_CUT38_W, S_CUT38_H)
    extrude(amount=POCKET_38_DEPTH, mode=Mode.SUBTRACT)

    # S_cut39 → Pocket_39 (cut)
    with BuildSketch(Plane.XY.offset(-97.8)):
        with Locations((0, -17.925)):
            Rectangle(S_CUT39_W, S_CUT39_H)
    extrude(amount=POCKET_39_DEPTH, mode=Mode.SUBTRACT)

    # S_cut40 → Pocket_40 (cut)
    with BuildSketch(Plane.XY.offset(-78.9)):
        with Locations((0, 16.975)):
            Rectangle(S_CUT40_W, S_CUT40_H)
    extrude(amount=POCKET_40_DEPTH, mode=Mode.SUBTRACT)

    # S_hole41 → Hole_41 (cut)
    with BuildSketch(Plane(origin=(0, -25.55, 0), x_dir=(1, 0, 0), z_dir=(0, 1, 0))):
        with Locations(Location((-10.25, 54.25, 0), (0, 0, 90))):
            Circle(S_HOLE41_R)
    extrude(amount=HOLE_41_DEPTH, mode=Mode.SUBTRACT)

    # S_hole42 → Hole_42 (cut)
    with BuildSketch(Plane(origin=(0, -25.55, 0), x_dir=(1, 0, 0), z_dir=(0, 1, 0))):
        with Locations(Location((10.25, 54.25, 0), (0, 0, 90))):
            Circle(S_HOLE42_R)
    extrude(amount=HOLE_42_DEPTH, mode=Mode.SUBTRACT)


solid = part_1.part
